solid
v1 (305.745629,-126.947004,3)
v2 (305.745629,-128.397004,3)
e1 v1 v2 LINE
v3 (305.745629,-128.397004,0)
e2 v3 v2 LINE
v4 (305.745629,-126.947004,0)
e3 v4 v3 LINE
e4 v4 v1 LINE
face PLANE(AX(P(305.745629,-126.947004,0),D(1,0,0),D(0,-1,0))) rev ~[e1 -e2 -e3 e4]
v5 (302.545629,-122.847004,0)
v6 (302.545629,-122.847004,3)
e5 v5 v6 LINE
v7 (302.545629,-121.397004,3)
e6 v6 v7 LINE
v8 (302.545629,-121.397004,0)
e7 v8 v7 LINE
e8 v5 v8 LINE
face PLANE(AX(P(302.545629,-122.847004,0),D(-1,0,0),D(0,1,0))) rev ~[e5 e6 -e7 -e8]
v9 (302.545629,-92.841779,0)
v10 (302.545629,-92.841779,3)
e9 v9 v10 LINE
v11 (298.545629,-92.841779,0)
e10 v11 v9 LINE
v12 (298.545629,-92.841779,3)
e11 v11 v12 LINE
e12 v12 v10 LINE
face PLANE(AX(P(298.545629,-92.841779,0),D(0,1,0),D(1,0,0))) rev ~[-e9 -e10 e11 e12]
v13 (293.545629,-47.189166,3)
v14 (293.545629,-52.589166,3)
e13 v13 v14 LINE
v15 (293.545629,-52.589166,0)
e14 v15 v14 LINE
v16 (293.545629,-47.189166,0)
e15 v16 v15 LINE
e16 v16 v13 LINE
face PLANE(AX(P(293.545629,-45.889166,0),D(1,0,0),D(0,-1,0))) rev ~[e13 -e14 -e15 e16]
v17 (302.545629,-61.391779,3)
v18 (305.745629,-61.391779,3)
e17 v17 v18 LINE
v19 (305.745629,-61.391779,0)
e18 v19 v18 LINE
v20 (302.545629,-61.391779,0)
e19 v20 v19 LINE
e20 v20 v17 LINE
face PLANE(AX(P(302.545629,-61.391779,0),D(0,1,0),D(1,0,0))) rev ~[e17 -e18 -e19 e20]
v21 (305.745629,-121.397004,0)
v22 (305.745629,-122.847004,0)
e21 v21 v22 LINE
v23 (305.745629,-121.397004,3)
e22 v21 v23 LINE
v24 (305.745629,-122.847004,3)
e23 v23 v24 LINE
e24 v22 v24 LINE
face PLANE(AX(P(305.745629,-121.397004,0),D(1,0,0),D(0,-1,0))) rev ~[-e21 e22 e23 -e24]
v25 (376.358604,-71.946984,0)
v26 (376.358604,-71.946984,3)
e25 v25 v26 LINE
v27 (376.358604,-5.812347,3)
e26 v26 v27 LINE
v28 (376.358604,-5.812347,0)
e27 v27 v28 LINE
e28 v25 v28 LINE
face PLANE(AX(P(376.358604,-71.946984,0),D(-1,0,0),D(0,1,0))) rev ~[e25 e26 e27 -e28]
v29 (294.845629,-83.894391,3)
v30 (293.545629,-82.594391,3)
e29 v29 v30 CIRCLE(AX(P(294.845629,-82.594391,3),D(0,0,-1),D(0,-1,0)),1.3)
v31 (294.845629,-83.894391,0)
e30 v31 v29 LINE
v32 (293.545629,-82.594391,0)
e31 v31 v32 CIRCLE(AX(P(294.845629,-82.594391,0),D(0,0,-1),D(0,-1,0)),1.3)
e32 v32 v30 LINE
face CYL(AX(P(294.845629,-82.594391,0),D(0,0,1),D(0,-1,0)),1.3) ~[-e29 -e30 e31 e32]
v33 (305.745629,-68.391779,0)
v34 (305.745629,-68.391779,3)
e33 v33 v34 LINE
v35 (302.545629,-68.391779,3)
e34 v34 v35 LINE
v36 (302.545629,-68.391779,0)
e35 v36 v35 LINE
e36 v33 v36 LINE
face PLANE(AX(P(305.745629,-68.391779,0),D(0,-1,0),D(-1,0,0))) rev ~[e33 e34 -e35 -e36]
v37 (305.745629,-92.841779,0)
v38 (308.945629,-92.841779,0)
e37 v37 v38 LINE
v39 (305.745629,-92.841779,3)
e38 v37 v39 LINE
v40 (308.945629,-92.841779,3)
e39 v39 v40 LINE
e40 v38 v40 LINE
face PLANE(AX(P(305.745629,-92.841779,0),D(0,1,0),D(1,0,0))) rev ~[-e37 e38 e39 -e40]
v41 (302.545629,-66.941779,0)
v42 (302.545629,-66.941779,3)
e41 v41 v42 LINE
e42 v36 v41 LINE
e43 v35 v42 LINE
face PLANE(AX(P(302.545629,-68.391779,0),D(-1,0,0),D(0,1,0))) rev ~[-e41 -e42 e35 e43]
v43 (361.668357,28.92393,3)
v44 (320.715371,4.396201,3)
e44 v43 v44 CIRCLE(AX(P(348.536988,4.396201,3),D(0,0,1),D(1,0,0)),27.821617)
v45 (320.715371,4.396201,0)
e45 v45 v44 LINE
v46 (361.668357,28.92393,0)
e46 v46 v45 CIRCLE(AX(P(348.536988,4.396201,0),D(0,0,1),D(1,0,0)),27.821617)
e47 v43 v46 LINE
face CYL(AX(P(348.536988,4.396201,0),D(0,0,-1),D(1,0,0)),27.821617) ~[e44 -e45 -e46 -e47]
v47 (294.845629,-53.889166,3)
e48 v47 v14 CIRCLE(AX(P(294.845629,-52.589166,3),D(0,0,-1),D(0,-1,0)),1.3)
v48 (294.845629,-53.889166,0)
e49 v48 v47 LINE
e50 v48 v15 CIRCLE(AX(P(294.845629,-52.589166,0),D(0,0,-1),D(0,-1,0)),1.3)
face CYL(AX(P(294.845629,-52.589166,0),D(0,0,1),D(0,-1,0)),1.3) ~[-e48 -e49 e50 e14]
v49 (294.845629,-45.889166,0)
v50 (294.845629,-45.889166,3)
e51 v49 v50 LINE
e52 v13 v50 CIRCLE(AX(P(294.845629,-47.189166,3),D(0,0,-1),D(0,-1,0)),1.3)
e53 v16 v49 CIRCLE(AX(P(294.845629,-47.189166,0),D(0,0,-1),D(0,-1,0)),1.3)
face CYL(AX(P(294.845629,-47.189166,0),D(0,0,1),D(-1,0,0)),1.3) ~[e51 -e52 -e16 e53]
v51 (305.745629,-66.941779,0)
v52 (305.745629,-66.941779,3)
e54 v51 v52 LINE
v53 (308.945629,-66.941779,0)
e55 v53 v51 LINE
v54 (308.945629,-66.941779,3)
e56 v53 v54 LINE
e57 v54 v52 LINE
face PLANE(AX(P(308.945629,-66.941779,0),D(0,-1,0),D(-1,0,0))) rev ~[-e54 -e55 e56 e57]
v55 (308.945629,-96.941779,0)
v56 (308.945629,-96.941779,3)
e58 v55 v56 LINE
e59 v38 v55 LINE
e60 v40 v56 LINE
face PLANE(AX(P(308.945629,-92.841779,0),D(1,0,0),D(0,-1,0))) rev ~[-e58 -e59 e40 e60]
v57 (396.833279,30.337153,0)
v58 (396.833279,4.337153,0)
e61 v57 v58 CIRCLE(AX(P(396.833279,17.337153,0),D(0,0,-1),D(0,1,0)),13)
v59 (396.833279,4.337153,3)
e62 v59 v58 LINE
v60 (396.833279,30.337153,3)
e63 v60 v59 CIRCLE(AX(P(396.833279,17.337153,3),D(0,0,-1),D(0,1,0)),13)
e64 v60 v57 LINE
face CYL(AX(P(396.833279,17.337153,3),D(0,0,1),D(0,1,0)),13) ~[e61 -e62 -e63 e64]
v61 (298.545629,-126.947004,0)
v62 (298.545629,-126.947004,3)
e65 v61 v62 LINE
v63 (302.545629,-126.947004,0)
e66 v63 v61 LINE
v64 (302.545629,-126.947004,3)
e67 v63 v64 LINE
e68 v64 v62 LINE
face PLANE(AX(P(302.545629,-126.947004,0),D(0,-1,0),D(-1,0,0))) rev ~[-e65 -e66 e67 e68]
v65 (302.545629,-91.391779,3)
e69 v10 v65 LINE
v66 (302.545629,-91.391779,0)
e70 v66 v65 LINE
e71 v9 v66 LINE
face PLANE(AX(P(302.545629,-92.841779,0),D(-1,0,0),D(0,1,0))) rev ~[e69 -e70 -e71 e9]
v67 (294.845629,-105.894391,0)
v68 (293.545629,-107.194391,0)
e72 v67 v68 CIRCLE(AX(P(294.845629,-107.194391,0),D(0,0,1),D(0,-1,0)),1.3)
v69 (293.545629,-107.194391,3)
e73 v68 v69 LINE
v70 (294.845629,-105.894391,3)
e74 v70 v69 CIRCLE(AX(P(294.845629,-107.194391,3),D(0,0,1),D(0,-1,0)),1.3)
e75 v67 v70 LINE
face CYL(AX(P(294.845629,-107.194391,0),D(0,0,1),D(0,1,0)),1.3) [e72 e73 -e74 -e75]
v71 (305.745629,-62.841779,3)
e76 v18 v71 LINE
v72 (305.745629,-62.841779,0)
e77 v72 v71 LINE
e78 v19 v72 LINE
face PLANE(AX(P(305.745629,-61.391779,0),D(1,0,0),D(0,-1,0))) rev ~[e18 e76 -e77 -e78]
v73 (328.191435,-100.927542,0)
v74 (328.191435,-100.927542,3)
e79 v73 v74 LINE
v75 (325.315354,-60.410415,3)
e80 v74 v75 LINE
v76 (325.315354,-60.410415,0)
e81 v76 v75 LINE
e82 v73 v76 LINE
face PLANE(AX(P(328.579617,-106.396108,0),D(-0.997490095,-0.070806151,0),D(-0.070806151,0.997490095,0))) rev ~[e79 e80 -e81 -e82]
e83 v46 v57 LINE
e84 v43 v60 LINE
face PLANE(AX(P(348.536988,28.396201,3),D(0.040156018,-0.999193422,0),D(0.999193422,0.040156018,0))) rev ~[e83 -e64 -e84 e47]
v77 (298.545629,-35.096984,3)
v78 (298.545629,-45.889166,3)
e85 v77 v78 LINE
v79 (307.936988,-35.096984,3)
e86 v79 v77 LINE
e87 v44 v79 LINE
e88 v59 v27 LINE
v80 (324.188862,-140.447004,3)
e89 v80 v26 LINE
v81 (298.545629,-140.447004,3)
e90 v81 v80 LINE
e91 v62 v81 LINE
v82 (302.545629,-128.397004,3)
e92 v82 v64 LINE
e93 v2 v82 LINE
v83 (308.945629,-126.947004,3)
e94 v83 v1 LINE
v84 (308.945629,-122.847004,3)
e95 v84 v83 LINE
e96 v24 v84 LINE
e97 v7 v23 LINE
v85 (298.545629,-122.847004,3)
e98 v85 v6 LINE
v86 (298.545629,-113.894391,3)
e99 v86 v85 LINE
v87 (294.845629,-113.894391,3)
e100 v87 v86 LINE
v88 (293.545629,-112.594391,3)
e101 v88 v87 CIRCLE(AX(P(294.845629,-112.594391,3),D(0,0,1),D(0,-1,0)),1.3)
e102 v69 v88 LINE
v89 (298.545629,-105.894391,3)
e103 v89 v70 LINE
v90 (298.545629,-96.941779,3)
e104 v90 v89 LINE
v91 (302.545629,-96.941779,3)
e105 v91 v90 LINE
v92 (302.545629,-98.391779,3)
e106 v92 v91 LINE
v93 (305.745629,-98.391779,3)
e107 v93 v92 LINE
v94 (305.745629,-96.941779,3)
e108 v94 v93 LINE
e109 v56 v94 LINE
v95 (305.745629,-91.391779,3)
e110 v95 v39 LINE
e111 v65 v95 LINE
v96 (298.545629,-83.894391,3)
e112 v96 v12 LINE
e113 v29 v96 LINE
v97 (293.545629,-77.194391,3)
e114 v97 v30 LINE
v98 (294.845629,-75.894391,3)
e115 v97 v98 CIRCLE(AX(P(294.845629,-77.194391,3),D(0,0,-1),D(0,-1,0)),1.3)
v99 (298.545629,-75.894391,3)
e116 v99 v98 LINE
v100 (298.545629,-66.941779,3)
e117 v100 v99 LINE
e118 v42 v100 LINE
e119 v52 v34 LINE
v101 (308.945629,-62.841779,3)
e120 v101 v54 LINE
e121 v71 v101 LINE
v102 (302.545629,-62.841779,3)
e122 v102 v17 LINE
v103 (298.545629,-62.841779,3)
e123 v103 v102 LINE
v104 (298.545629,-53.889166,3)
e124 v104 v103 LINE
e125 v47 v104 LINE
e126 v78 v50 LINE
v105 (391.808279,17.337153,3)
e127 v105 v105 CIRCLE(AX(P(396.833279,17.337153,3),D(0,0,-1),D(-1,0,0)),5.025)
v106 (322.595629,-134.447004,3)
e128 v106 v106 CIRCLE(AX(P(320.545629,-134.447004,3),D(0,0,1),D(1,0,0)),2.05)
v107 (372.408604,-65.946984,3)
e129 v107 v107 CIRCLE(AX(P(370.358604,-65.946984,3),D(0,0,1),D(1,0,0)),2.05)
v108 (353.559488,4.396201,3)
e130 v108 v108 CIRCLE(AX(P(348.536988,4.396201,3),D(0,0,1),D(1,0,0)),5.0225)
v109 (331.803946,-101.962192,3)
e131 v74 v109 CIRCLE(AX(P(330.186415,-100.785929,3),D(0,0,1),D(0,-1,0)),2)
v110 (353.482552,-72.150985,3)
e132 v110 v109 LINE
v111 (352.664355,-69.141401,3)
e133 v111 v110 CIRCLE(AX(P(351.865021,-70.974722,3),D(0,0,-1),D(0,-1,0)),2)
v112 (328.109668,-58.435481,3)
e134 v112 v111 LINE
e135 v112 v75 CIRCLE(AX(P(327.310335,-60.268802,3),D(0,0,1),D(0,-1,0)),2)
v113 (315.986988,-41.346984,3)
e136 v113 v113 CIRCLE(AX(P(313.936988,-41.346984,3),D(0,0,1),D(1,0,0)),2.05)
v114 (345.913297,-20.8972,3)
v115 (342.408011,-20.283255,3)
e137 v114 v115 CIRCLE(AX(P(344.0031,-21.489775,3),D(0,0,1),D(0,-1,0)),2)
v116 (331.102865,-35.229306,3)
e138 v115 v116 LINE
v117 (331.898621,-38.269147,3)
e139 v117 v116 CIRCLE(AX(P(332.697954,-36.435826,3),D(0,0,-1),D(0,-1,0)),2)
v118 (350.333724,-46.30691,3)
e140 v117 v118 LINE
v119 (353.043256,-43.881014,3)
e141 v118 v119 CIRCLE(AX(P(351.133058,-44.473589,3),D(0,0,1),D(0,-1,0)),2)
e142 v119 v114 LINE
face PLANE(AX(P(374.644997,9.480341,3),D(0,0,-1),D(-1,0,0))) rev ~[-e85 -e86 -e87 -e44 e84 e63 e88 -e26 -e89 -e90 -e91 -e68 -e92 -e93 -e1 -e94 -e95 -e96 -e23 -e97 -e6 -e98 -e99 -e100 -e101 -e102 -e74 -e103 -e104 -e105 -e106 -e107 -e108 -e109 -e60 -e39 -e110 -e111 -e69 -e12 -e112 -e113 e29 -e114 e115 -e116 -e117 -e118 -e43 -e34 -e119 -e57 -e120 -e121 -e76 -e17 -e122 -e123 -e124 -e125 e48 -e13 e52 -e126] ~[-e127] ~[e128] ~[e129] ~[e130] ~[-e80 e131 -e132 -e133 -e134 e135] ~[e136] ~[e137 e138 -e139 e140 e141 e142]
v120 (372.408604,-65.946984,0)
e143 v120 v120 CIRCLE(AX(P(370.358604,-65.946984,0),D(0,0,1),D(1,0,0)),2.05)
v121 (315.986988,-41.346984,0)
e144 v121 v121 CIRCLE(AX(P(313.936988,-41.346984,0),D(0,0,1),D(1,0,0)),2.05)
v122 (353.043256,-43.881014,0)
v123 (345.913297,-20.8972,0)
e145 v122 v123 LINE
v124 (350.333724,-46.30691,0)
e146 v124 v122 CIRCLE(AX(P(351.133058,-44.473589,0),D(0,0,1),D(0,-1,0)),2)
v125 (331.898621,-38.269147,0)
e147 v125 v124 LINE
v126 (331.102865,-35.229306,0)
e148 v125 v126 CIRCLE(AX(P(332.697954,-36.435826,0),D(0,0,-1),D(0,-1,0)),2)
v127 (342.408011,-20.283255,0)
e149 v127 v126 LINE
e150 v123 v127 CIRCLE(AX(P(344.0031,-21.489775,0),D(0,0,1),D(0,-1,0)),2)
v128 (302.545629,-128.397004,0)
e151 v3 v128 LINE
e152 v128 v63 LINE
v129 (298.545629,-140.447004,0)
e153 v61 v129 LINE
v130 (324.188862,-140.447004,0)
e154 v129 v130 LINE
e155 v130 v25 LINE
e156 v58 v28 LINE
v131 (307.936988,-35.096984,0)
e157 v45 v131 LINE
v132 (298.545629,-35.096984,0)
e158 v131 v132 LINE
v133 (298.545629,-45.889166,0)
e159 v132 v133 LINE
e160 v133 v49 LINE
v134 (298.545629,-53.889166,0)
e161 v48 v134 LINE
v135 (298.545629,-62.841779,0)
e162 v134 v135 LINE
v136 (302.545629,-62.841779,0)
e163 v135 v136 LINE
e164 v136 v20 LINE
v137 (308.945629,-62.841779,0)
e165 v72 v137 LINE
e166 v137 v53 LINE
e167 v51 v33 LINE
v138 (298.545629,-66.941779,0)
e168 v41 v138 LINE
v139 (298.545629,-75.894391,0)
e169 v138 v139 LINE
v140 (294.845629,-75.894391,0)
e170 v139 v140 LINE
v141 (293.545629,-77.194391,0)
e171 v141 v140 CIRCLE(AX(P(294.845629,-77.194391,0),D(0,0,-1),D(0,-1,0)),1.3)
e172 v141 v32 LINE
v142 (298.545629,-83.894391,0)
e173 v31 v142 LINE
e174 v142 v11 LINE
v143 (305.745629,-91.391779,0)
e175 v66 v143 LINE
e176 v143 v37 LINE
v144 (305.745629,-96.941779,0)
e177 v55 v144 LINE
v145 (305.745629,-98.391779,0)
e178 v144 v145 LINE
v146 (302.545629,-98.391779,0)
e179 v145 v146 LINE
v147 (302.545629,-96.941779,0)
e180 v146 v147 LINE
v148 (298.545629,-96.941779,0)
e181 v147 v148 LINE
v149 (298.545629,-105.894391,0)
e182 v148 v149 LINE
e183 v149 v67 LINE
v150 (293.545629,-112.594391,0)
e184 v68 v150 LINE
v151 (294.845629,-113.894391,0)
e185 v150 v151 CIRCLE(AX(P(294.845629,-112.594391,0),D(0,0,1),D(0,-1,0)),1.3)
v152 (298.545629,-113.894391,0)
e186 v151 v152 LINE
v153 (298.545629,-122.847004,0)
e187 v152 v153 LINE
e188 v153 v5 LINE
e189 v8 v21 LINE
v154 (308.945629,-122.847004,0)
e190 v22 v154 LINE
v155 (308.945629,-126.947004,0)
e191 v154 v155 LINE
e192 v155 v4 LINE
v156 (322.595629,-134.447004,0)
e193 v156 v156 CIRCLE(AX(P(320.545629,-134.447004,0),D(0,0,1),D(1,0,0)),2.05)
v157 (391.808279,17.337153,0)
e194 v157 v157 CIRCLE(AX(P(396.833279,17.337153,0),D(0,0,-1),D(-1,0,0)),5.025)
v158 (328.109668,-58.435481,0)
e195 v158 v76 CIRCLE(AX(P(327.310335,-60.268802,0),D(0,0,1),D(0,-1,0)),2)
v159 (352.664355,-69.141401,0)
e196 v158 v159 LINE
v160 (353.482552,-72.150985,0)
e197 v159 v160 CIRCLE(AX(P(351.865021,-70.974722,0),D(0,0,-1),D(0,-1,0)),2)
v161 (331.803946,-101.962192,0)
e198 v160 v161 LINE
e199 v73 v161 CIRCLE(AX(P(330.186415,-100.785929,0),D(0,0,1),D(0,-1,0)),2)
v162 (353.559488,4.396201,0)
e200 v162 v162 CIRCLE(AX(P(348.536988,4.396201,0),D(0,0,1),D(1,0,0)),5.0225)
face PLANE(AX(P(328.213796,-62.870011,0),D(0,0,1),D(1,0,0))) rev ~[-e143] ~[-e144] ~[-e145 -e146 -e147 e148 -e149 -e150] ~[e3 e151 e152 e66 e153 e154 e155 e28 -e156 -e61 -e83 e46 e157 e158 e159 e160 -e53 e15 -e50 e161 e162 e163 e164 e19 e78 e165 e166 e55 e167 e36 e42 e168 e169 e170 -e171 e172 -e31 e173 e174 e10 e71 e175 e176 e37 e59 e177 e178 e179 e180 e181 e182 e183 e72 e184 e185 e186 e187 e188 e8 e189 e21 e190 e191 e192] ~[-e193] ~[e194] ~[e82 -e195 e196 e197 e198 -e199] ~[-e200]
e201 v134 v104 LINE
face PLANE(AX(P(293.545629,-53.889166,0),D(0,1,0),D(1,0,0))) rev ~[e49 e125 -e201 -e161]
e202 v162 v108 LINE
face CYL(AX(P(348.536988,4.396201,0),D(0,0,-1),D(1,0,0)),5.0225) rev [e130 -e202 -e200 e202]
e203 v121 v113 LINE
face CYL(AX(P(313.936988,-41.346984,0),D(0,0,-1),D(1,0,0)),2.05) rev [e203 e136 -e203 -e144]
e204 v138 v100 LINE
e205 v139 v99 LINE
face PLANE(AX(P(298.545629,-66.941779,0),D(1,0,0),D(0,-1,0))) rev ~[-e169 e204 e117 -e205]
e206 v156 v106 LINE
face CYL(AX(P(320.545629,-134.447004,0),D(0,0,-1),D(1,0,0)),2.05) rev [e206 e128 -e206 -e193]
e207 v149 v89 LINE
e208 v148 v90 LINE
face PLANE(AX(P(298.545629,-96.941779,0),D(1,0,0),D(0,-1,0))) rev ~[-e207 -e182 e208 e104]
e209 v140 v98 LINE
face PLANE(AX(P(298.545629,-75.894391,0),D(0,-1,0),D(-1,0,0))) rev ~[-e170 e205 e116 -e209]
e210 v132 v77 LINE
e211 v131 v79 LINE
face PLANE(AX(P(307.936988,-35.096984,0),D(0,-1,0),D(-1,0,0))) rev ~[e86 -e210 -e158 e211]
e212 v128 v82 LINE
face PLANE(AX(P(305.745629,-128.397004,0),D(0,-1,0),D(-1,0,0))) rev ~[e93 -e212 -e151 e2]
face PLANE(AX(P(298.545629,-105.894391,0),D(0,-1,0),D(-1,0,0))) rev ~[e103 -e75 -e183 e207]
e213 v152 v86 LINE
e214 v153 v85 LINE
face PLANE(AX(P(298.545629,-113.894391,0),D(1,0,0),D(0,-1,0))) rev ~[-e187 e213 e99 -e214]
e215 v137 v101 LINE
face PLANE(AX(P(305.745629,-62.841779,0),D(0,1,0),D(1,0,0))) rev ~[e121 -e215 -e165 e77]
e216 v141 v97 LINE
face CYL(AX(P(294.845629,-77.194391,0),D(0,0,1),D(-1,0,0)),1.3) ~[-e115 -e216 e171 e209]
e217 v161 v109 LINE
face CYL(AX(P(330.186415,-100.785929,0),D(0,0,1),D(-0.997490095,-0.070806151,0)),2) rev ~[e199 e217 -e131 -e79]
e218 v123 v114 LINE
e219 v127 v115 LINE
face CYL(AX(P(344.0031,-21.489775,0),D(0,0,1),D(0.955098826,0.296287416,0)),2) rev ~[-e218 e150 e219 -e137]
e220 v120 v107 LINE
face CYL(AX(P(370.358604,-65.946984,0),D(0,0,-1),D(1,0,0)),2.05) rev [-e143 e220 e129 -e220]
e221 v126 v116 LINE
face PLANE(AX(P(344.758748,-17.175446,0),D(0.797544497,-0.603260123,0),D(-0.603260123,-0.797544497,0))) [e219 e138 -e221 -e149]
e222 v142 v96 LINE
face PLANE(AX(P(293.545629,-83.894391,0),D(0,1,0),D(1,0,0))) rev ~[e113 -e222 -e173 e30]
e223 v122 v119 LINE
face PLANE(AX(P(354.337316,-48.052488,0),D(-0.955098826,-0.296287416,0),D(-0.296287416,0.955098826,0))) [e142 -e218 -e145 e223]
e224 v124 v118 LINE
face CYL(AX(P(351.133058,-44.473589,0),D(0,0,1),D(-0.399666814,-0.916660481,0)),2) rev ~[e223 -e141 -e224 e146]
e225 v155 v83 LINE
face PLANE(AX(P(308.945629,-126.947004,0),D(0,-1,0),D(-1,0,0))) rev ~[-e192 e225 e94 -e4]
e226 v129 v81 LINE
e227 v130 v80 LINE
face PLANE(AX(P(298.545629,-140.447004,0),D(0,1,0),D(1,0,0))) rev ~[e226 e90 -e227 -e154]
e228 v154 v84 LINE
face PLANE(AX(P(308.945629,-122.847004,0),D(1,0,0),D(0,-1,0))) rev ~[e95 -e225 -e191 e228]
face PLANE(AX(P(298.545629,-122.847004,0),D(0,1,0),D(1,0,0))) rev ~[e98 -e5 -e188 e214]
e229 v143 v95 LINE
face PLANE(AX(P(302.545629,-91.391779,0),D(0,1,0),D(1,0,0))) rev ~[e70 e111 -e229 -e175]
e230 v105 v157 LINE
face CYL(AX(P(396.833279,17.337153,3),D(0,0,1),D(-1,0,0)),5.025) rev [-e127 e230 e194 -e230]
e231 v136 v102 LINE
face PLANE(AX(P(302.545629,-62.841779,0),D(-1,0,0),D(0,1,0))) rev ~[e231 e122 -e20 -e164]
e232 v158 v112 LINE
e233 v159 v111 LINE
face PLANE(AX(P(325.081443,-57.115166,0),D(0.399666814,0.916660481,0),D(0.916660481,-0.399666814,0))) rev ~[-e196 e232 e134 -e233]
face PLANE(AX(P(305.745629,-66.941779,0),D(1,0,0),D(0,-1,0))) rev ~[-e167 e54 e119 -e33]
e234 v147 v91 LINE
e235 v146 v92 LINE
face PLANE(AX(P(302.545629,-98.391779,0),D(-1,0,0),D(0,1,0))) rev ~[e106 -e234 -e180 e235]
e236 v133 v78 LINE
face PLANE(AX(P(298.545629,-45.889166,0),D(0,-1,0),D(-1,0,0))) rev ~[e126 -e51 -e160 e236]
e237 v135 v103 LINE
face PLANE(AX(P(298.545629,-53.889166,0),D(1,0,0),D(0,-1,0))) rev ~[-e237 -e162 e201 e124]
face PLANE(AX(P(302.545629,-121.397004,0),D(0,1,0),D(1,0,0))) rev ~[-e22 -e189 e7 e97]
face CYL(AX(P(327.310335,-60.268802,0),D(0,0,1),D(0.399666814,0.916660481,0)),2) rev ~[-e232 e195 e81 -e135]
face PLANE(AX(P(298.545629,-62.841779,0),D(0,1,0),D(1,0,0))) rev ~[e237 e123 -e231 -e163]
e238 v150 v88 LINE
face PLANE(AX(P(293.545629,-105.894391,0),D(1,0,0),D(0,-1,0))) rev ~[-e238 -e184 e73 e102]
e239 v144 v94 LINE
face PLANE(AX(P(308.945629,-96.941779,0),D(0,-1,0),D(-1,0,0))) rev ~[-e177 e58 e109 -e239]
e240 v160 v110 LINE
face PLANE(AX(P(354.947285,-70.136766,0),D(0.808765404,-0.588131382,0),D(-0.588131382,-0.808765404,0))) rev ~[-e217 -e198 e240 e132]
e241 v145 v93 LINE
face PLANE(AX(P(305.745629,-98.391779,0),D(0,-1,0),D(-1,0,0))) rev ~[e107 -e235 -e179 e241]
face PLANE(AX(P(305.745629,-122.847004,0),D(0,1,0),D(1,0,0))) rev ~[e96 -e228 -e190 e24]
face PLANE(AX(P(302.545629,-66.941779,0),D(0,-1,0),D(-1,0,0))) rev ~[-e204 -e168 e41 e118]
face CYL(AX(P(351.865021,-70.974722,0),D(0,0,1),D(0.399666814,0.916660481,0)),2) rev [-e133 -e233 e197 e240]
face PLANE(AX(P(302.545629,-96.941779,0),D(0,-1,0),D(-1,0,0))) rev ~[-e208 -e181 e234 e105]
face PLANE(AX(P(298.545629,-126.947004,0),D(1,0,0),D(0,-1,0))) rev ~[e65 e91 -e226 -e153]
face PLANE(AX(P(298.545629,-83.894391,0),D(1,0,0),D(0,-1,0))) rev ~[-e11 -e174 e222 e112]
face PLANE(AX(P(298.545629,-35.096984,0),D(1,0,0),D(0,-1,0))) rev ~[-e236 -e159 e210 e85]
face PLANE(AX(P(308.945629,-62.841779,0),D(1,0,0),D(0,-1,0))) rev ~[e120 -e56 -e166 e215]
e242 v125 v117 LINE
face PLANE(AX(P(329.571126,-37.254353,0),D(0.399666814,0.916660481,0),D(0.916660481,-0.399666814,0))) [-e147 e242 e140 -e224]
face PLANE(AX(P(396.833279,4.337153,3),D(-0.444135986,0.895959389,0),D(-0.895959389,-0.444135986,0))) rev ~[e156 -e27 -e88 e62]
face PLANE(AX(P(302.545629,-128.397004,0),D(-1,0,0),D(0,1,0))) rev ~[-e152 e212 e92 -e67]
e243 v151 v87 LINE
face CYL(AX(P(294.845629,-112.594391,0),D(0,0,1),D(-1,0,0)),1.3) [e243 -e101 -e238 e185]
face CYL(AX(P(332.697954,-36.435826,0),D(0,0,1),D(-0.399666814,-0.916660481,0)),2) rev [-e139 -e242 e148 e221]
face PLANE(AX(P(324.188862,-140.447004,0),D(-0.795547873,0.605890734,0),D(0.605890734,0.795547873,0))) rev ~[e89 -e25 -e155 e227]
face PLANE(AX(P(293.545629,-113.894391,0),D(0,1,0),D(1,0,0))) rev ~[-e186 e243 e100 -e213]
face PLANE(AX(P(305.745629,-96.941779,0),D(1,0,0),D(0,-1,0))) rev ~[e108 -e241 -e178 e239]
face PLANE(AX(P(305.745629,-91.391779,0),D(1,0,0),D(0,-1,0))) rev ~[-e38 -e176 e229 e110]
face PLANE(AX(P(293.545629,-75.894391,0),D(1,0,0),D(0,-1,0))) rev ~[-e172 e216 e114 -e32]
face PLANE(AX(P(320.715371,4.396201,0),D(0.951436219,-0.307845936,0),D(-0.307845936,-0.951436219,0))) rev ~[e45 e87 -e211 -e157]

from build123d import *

# Parameters (mm, degrees)
SKETCH_1_R      = 5.0225
SKETCH_1_R_2    = 2.05
EXTRUDE_1_DEPTH = 3
FILLET_1_R      = 2
FILLET_2_R      = 1.3
EXTRUDE_START   = -3
SKETCH_3_R      = 5.025
EXTRUDE_2_DEPTH = 3


with BuildPart() as part:
    # 草图1 → 凸台-拉伸1 (new body)
    with BuildSketch(Plane.XY):
        with BuildLine():
            Line((298.545628784, -83.894391363), (298.545628784, -92.841778663))
            Line((298.545628784, -92.841778663), (302.545628784, -92.841778663))
            Line((302.545628784, -92.841778663), (302.545628784, -91.391778663))
            Line((302.545628784, -91.391778663), (305.745628784, -91.391778663))
            Line((305.745628784, -91.391778663), (305.745628784, -92.841778663))
            Line((305.745628784, -92.841778663), (308.945628784, -92.841778663))
            Line((308.945628784, -92.841778663), (308.945628784, -96.941778663))
            Line((308.945628784, -96.941778663), (305.745628784, -96.941778663))
            Line((305.745628784, -96.941778663), (305.745628784, -98.391778663))
            Line((305.745628784, -98.391778663), (302.545628784, -98.391778663))
            Line((302.545628784, -98.391778663), (302.545628784, -96.941778663))
            Line((302.545628784, -96.941778663), (298.545628784, -96.941778663))
            Line((298.545628784, -96.941778663), (298.545628784, -105.894391358))
            Line((298.545628784, -105.894391358), (293.545628784, -105.894391358))
            Line((293.545628784, -105.894391358), (293.545628784, -113.894391358))
            Line((293.545628784, -113.894391358), (298.545628784, -113.894391358))
            Line((298.545628784, -113.894391358), (298.545628784, -122.847004054))
            Line((298.545628784, -122.847004054), (302.545628784, -122.847004054))
            Line((302.545628784, -122.847004054), (302.545628784, -121.397004054))
            Line((302.545628784, -121.397004054), (305.745628784, -121.397004054))
            Line((305.745628784, -121.397004054), (305.745628784, -122.847004054))
            Line((305.745628784, -122.847004054), (308.945628784, -122.847004054))
            Line((308.945628784, -122.847004054), (308.945628784, -126.947004054))
            Line((308.945628784, -126.947004054), (305.745628784, -126.947004054))
            Line((305.745628784, -126.947004054), (305.745628784, -128.397004054))
            Line((305.745628784, -128.397004054), (302.545628784, -128.397004054))
            Line((302.545628784, -128.397004054), (302.545628784, -126.947004054))
            Line((302.545628784, -126.947004054), (298.545628784, -126.947004054))
            Line((298.545628784, -126.947004054), (298.545628784, -140.447004054))
            Line((298.545628784, -140.447004054), (324.188862368, -140.447004054))
            Line((324.188862368, -140.447004054), (376.358604426, -71.946984141))
            Line((376.358604426, -71.946984141), (376.358604426, 4.396201153))
            ThreePointArc((376.358604426, 4.396201153), (348.536987634, 32.217817945), (320.715370843, 4.396201153))
            Line((320.715370843, 4.396201153), (307.936987634, -35.096984141))
            Line((307.936987634, -35.096984141), (298.545628784, -35.096984141))
            Line((298.545628784, -35.096984141), (298.545628784, -45.889165972))
            Line((298.545628784, -45.889165972), (293.545628784, -45.889165972))
            Line((293.545628784, -45.889165972), (293.545628784, -53.889165972))
            Line((293.545628784, -53.889165972), (298.545628784, -53.889165972))
            Line((298.545628784, -53.889165972), (298.545628784, -62.841778668))
            Line((298.545628784, -62.841778668), (302.545628784, -62.841778668))
            Line((302.545628784, -62.841778668), (302.545628784, -61.391778668))
            Line((302.545628784, -61.391778668), (305.745628784, -61.391778668))
            Line((305.745628784, -61.391778668), (305.745628784, -62.841778668))
            Line((305.745628784, -62.841778668), (308.945628784, -62.841778668))
            Line((308.945628784, -62.841778668), (308.945628784, -66.941778668))
            Line((308.945628784, -66.941778668), (305.745628784, -66.941778668))
            Line((305.745628784, -66.941778668), (305.745628784, -68.391778668))
            Line((305.745628784, -68.391778668), (302.545628784, -68.391778668))
            Line((302.545628784, -68.391778668), (302.545628784, -66.941778668))
            Line((302.545628784, -66.941778668), (298.545628784, -66.941778668))
            Line((298.545628784, -66.941778668), (298.545628784, -75.894391363))
            Line((298.545628784, -75.894391363), (293.545628784, -75.894391363))
            Line((293.545628784, -75.894391363), (293.545628784, -83.894391363))
            Line((293.545628784, -83.894391363), (298.545628784, -83.894391363))
        make_face()
        with Locations((348.536987634, 4.396201153)):
            Circle(SKETCH_1_R, mode=Mode.SUBTRACT)
        with Locations((320.545628784, -134.447004054)):
            Circle(SKETCH_1_R_2, mode=Mode.SUBTRACT)
        with Locations((370.358604426, -65.946984141)):
            Circle(SKETCH_1_R_2, mode=Mode.SUBTRACT)
        with Locations((313.936987634, -41.346984141)):
            Circle(SKETCH_1_R_2, mode=Mode.SUBTRACT)
        Polygon((354.947285032, -70.136765586), (328.579617375, -106.396108383), (325.08144343, -57.115165973), align=None, mode=Mode.SUBTRACT)
        Polygon((329.571126451, -37.254352656), (354.337315751, -48.052488042), (344.758747766, -17.175445836), align=None, mode=Mode.SUBTRACT)
    extrude(amount=EXTRUDE_1_DEPTH)

    # 圆角1
    fillet_1_edges = [part.edges().sort_by_distance(p)[0] for p in [
        (354.947285032, -70.136765586, 1.5),
        (325.08144343, -57.115165973, 1.5),
        (328.579617375, -106.396108383, 1.5),
        (344.758747766, -17.175445836, 1.5),
        (329.571126451, -37.254352656, 1.5),
        (354.337315751, -48.052488042, 1.5),
    ]]
    fillet(fillet_1_edges, radius=FILLET_1_R)

    # 圆角2
    fillet_2_edges = [part.edges().sort_by_distance(p)[0] for p in [
        (293.545628784, -113.894391358, 1.5),
        (293.545628784, -105.894391358, 1.5),
        (293.545628784, -83.894391363, 1.5),
        (293.545628784, -75.894391363, 1.5),
        (293.545628784, -53.889165972, 1.5),
        (293.545628784, -45.889165972, 1.5),
    ]]
    fillet(fillet_2_edges, radius=FILLET_2_R)

    # 草图3 → 凸台-拉伸2 (add)
    with BuildSketch(Plane(origin=(0, 0, 0), x_dir=(-1, 0, 0), z_dir=(0, 0, -1)).offset(EXTRUDE_START)):
        with BuildLine():
            Line((-348.536987634, 28.396201153), (-396.833278949, 30.337153408))
            ThreePointArc((-396.833278949, 30.337153408), (-409.833278949, 17.337153408), (-396.833278949, 4.337153408))
            Line((-396.833278949, 4.337153408), (-348.536987634, -19.603798847))
            Line((-348.536987634, -19.603798847), (-372.536987634, 4.396201153))
            Line((-372.536987634, 4.396201153), (-348.536987634, 28.396201153))
        make_face()
        with Locations((-396.833278949, 17.337153408)):
            Circle(SKETCH_3_R, mode=Mode.SUBTRACT)
    extrude(amount=EXTRUDE_2_DEPTH)


solid = part.part
